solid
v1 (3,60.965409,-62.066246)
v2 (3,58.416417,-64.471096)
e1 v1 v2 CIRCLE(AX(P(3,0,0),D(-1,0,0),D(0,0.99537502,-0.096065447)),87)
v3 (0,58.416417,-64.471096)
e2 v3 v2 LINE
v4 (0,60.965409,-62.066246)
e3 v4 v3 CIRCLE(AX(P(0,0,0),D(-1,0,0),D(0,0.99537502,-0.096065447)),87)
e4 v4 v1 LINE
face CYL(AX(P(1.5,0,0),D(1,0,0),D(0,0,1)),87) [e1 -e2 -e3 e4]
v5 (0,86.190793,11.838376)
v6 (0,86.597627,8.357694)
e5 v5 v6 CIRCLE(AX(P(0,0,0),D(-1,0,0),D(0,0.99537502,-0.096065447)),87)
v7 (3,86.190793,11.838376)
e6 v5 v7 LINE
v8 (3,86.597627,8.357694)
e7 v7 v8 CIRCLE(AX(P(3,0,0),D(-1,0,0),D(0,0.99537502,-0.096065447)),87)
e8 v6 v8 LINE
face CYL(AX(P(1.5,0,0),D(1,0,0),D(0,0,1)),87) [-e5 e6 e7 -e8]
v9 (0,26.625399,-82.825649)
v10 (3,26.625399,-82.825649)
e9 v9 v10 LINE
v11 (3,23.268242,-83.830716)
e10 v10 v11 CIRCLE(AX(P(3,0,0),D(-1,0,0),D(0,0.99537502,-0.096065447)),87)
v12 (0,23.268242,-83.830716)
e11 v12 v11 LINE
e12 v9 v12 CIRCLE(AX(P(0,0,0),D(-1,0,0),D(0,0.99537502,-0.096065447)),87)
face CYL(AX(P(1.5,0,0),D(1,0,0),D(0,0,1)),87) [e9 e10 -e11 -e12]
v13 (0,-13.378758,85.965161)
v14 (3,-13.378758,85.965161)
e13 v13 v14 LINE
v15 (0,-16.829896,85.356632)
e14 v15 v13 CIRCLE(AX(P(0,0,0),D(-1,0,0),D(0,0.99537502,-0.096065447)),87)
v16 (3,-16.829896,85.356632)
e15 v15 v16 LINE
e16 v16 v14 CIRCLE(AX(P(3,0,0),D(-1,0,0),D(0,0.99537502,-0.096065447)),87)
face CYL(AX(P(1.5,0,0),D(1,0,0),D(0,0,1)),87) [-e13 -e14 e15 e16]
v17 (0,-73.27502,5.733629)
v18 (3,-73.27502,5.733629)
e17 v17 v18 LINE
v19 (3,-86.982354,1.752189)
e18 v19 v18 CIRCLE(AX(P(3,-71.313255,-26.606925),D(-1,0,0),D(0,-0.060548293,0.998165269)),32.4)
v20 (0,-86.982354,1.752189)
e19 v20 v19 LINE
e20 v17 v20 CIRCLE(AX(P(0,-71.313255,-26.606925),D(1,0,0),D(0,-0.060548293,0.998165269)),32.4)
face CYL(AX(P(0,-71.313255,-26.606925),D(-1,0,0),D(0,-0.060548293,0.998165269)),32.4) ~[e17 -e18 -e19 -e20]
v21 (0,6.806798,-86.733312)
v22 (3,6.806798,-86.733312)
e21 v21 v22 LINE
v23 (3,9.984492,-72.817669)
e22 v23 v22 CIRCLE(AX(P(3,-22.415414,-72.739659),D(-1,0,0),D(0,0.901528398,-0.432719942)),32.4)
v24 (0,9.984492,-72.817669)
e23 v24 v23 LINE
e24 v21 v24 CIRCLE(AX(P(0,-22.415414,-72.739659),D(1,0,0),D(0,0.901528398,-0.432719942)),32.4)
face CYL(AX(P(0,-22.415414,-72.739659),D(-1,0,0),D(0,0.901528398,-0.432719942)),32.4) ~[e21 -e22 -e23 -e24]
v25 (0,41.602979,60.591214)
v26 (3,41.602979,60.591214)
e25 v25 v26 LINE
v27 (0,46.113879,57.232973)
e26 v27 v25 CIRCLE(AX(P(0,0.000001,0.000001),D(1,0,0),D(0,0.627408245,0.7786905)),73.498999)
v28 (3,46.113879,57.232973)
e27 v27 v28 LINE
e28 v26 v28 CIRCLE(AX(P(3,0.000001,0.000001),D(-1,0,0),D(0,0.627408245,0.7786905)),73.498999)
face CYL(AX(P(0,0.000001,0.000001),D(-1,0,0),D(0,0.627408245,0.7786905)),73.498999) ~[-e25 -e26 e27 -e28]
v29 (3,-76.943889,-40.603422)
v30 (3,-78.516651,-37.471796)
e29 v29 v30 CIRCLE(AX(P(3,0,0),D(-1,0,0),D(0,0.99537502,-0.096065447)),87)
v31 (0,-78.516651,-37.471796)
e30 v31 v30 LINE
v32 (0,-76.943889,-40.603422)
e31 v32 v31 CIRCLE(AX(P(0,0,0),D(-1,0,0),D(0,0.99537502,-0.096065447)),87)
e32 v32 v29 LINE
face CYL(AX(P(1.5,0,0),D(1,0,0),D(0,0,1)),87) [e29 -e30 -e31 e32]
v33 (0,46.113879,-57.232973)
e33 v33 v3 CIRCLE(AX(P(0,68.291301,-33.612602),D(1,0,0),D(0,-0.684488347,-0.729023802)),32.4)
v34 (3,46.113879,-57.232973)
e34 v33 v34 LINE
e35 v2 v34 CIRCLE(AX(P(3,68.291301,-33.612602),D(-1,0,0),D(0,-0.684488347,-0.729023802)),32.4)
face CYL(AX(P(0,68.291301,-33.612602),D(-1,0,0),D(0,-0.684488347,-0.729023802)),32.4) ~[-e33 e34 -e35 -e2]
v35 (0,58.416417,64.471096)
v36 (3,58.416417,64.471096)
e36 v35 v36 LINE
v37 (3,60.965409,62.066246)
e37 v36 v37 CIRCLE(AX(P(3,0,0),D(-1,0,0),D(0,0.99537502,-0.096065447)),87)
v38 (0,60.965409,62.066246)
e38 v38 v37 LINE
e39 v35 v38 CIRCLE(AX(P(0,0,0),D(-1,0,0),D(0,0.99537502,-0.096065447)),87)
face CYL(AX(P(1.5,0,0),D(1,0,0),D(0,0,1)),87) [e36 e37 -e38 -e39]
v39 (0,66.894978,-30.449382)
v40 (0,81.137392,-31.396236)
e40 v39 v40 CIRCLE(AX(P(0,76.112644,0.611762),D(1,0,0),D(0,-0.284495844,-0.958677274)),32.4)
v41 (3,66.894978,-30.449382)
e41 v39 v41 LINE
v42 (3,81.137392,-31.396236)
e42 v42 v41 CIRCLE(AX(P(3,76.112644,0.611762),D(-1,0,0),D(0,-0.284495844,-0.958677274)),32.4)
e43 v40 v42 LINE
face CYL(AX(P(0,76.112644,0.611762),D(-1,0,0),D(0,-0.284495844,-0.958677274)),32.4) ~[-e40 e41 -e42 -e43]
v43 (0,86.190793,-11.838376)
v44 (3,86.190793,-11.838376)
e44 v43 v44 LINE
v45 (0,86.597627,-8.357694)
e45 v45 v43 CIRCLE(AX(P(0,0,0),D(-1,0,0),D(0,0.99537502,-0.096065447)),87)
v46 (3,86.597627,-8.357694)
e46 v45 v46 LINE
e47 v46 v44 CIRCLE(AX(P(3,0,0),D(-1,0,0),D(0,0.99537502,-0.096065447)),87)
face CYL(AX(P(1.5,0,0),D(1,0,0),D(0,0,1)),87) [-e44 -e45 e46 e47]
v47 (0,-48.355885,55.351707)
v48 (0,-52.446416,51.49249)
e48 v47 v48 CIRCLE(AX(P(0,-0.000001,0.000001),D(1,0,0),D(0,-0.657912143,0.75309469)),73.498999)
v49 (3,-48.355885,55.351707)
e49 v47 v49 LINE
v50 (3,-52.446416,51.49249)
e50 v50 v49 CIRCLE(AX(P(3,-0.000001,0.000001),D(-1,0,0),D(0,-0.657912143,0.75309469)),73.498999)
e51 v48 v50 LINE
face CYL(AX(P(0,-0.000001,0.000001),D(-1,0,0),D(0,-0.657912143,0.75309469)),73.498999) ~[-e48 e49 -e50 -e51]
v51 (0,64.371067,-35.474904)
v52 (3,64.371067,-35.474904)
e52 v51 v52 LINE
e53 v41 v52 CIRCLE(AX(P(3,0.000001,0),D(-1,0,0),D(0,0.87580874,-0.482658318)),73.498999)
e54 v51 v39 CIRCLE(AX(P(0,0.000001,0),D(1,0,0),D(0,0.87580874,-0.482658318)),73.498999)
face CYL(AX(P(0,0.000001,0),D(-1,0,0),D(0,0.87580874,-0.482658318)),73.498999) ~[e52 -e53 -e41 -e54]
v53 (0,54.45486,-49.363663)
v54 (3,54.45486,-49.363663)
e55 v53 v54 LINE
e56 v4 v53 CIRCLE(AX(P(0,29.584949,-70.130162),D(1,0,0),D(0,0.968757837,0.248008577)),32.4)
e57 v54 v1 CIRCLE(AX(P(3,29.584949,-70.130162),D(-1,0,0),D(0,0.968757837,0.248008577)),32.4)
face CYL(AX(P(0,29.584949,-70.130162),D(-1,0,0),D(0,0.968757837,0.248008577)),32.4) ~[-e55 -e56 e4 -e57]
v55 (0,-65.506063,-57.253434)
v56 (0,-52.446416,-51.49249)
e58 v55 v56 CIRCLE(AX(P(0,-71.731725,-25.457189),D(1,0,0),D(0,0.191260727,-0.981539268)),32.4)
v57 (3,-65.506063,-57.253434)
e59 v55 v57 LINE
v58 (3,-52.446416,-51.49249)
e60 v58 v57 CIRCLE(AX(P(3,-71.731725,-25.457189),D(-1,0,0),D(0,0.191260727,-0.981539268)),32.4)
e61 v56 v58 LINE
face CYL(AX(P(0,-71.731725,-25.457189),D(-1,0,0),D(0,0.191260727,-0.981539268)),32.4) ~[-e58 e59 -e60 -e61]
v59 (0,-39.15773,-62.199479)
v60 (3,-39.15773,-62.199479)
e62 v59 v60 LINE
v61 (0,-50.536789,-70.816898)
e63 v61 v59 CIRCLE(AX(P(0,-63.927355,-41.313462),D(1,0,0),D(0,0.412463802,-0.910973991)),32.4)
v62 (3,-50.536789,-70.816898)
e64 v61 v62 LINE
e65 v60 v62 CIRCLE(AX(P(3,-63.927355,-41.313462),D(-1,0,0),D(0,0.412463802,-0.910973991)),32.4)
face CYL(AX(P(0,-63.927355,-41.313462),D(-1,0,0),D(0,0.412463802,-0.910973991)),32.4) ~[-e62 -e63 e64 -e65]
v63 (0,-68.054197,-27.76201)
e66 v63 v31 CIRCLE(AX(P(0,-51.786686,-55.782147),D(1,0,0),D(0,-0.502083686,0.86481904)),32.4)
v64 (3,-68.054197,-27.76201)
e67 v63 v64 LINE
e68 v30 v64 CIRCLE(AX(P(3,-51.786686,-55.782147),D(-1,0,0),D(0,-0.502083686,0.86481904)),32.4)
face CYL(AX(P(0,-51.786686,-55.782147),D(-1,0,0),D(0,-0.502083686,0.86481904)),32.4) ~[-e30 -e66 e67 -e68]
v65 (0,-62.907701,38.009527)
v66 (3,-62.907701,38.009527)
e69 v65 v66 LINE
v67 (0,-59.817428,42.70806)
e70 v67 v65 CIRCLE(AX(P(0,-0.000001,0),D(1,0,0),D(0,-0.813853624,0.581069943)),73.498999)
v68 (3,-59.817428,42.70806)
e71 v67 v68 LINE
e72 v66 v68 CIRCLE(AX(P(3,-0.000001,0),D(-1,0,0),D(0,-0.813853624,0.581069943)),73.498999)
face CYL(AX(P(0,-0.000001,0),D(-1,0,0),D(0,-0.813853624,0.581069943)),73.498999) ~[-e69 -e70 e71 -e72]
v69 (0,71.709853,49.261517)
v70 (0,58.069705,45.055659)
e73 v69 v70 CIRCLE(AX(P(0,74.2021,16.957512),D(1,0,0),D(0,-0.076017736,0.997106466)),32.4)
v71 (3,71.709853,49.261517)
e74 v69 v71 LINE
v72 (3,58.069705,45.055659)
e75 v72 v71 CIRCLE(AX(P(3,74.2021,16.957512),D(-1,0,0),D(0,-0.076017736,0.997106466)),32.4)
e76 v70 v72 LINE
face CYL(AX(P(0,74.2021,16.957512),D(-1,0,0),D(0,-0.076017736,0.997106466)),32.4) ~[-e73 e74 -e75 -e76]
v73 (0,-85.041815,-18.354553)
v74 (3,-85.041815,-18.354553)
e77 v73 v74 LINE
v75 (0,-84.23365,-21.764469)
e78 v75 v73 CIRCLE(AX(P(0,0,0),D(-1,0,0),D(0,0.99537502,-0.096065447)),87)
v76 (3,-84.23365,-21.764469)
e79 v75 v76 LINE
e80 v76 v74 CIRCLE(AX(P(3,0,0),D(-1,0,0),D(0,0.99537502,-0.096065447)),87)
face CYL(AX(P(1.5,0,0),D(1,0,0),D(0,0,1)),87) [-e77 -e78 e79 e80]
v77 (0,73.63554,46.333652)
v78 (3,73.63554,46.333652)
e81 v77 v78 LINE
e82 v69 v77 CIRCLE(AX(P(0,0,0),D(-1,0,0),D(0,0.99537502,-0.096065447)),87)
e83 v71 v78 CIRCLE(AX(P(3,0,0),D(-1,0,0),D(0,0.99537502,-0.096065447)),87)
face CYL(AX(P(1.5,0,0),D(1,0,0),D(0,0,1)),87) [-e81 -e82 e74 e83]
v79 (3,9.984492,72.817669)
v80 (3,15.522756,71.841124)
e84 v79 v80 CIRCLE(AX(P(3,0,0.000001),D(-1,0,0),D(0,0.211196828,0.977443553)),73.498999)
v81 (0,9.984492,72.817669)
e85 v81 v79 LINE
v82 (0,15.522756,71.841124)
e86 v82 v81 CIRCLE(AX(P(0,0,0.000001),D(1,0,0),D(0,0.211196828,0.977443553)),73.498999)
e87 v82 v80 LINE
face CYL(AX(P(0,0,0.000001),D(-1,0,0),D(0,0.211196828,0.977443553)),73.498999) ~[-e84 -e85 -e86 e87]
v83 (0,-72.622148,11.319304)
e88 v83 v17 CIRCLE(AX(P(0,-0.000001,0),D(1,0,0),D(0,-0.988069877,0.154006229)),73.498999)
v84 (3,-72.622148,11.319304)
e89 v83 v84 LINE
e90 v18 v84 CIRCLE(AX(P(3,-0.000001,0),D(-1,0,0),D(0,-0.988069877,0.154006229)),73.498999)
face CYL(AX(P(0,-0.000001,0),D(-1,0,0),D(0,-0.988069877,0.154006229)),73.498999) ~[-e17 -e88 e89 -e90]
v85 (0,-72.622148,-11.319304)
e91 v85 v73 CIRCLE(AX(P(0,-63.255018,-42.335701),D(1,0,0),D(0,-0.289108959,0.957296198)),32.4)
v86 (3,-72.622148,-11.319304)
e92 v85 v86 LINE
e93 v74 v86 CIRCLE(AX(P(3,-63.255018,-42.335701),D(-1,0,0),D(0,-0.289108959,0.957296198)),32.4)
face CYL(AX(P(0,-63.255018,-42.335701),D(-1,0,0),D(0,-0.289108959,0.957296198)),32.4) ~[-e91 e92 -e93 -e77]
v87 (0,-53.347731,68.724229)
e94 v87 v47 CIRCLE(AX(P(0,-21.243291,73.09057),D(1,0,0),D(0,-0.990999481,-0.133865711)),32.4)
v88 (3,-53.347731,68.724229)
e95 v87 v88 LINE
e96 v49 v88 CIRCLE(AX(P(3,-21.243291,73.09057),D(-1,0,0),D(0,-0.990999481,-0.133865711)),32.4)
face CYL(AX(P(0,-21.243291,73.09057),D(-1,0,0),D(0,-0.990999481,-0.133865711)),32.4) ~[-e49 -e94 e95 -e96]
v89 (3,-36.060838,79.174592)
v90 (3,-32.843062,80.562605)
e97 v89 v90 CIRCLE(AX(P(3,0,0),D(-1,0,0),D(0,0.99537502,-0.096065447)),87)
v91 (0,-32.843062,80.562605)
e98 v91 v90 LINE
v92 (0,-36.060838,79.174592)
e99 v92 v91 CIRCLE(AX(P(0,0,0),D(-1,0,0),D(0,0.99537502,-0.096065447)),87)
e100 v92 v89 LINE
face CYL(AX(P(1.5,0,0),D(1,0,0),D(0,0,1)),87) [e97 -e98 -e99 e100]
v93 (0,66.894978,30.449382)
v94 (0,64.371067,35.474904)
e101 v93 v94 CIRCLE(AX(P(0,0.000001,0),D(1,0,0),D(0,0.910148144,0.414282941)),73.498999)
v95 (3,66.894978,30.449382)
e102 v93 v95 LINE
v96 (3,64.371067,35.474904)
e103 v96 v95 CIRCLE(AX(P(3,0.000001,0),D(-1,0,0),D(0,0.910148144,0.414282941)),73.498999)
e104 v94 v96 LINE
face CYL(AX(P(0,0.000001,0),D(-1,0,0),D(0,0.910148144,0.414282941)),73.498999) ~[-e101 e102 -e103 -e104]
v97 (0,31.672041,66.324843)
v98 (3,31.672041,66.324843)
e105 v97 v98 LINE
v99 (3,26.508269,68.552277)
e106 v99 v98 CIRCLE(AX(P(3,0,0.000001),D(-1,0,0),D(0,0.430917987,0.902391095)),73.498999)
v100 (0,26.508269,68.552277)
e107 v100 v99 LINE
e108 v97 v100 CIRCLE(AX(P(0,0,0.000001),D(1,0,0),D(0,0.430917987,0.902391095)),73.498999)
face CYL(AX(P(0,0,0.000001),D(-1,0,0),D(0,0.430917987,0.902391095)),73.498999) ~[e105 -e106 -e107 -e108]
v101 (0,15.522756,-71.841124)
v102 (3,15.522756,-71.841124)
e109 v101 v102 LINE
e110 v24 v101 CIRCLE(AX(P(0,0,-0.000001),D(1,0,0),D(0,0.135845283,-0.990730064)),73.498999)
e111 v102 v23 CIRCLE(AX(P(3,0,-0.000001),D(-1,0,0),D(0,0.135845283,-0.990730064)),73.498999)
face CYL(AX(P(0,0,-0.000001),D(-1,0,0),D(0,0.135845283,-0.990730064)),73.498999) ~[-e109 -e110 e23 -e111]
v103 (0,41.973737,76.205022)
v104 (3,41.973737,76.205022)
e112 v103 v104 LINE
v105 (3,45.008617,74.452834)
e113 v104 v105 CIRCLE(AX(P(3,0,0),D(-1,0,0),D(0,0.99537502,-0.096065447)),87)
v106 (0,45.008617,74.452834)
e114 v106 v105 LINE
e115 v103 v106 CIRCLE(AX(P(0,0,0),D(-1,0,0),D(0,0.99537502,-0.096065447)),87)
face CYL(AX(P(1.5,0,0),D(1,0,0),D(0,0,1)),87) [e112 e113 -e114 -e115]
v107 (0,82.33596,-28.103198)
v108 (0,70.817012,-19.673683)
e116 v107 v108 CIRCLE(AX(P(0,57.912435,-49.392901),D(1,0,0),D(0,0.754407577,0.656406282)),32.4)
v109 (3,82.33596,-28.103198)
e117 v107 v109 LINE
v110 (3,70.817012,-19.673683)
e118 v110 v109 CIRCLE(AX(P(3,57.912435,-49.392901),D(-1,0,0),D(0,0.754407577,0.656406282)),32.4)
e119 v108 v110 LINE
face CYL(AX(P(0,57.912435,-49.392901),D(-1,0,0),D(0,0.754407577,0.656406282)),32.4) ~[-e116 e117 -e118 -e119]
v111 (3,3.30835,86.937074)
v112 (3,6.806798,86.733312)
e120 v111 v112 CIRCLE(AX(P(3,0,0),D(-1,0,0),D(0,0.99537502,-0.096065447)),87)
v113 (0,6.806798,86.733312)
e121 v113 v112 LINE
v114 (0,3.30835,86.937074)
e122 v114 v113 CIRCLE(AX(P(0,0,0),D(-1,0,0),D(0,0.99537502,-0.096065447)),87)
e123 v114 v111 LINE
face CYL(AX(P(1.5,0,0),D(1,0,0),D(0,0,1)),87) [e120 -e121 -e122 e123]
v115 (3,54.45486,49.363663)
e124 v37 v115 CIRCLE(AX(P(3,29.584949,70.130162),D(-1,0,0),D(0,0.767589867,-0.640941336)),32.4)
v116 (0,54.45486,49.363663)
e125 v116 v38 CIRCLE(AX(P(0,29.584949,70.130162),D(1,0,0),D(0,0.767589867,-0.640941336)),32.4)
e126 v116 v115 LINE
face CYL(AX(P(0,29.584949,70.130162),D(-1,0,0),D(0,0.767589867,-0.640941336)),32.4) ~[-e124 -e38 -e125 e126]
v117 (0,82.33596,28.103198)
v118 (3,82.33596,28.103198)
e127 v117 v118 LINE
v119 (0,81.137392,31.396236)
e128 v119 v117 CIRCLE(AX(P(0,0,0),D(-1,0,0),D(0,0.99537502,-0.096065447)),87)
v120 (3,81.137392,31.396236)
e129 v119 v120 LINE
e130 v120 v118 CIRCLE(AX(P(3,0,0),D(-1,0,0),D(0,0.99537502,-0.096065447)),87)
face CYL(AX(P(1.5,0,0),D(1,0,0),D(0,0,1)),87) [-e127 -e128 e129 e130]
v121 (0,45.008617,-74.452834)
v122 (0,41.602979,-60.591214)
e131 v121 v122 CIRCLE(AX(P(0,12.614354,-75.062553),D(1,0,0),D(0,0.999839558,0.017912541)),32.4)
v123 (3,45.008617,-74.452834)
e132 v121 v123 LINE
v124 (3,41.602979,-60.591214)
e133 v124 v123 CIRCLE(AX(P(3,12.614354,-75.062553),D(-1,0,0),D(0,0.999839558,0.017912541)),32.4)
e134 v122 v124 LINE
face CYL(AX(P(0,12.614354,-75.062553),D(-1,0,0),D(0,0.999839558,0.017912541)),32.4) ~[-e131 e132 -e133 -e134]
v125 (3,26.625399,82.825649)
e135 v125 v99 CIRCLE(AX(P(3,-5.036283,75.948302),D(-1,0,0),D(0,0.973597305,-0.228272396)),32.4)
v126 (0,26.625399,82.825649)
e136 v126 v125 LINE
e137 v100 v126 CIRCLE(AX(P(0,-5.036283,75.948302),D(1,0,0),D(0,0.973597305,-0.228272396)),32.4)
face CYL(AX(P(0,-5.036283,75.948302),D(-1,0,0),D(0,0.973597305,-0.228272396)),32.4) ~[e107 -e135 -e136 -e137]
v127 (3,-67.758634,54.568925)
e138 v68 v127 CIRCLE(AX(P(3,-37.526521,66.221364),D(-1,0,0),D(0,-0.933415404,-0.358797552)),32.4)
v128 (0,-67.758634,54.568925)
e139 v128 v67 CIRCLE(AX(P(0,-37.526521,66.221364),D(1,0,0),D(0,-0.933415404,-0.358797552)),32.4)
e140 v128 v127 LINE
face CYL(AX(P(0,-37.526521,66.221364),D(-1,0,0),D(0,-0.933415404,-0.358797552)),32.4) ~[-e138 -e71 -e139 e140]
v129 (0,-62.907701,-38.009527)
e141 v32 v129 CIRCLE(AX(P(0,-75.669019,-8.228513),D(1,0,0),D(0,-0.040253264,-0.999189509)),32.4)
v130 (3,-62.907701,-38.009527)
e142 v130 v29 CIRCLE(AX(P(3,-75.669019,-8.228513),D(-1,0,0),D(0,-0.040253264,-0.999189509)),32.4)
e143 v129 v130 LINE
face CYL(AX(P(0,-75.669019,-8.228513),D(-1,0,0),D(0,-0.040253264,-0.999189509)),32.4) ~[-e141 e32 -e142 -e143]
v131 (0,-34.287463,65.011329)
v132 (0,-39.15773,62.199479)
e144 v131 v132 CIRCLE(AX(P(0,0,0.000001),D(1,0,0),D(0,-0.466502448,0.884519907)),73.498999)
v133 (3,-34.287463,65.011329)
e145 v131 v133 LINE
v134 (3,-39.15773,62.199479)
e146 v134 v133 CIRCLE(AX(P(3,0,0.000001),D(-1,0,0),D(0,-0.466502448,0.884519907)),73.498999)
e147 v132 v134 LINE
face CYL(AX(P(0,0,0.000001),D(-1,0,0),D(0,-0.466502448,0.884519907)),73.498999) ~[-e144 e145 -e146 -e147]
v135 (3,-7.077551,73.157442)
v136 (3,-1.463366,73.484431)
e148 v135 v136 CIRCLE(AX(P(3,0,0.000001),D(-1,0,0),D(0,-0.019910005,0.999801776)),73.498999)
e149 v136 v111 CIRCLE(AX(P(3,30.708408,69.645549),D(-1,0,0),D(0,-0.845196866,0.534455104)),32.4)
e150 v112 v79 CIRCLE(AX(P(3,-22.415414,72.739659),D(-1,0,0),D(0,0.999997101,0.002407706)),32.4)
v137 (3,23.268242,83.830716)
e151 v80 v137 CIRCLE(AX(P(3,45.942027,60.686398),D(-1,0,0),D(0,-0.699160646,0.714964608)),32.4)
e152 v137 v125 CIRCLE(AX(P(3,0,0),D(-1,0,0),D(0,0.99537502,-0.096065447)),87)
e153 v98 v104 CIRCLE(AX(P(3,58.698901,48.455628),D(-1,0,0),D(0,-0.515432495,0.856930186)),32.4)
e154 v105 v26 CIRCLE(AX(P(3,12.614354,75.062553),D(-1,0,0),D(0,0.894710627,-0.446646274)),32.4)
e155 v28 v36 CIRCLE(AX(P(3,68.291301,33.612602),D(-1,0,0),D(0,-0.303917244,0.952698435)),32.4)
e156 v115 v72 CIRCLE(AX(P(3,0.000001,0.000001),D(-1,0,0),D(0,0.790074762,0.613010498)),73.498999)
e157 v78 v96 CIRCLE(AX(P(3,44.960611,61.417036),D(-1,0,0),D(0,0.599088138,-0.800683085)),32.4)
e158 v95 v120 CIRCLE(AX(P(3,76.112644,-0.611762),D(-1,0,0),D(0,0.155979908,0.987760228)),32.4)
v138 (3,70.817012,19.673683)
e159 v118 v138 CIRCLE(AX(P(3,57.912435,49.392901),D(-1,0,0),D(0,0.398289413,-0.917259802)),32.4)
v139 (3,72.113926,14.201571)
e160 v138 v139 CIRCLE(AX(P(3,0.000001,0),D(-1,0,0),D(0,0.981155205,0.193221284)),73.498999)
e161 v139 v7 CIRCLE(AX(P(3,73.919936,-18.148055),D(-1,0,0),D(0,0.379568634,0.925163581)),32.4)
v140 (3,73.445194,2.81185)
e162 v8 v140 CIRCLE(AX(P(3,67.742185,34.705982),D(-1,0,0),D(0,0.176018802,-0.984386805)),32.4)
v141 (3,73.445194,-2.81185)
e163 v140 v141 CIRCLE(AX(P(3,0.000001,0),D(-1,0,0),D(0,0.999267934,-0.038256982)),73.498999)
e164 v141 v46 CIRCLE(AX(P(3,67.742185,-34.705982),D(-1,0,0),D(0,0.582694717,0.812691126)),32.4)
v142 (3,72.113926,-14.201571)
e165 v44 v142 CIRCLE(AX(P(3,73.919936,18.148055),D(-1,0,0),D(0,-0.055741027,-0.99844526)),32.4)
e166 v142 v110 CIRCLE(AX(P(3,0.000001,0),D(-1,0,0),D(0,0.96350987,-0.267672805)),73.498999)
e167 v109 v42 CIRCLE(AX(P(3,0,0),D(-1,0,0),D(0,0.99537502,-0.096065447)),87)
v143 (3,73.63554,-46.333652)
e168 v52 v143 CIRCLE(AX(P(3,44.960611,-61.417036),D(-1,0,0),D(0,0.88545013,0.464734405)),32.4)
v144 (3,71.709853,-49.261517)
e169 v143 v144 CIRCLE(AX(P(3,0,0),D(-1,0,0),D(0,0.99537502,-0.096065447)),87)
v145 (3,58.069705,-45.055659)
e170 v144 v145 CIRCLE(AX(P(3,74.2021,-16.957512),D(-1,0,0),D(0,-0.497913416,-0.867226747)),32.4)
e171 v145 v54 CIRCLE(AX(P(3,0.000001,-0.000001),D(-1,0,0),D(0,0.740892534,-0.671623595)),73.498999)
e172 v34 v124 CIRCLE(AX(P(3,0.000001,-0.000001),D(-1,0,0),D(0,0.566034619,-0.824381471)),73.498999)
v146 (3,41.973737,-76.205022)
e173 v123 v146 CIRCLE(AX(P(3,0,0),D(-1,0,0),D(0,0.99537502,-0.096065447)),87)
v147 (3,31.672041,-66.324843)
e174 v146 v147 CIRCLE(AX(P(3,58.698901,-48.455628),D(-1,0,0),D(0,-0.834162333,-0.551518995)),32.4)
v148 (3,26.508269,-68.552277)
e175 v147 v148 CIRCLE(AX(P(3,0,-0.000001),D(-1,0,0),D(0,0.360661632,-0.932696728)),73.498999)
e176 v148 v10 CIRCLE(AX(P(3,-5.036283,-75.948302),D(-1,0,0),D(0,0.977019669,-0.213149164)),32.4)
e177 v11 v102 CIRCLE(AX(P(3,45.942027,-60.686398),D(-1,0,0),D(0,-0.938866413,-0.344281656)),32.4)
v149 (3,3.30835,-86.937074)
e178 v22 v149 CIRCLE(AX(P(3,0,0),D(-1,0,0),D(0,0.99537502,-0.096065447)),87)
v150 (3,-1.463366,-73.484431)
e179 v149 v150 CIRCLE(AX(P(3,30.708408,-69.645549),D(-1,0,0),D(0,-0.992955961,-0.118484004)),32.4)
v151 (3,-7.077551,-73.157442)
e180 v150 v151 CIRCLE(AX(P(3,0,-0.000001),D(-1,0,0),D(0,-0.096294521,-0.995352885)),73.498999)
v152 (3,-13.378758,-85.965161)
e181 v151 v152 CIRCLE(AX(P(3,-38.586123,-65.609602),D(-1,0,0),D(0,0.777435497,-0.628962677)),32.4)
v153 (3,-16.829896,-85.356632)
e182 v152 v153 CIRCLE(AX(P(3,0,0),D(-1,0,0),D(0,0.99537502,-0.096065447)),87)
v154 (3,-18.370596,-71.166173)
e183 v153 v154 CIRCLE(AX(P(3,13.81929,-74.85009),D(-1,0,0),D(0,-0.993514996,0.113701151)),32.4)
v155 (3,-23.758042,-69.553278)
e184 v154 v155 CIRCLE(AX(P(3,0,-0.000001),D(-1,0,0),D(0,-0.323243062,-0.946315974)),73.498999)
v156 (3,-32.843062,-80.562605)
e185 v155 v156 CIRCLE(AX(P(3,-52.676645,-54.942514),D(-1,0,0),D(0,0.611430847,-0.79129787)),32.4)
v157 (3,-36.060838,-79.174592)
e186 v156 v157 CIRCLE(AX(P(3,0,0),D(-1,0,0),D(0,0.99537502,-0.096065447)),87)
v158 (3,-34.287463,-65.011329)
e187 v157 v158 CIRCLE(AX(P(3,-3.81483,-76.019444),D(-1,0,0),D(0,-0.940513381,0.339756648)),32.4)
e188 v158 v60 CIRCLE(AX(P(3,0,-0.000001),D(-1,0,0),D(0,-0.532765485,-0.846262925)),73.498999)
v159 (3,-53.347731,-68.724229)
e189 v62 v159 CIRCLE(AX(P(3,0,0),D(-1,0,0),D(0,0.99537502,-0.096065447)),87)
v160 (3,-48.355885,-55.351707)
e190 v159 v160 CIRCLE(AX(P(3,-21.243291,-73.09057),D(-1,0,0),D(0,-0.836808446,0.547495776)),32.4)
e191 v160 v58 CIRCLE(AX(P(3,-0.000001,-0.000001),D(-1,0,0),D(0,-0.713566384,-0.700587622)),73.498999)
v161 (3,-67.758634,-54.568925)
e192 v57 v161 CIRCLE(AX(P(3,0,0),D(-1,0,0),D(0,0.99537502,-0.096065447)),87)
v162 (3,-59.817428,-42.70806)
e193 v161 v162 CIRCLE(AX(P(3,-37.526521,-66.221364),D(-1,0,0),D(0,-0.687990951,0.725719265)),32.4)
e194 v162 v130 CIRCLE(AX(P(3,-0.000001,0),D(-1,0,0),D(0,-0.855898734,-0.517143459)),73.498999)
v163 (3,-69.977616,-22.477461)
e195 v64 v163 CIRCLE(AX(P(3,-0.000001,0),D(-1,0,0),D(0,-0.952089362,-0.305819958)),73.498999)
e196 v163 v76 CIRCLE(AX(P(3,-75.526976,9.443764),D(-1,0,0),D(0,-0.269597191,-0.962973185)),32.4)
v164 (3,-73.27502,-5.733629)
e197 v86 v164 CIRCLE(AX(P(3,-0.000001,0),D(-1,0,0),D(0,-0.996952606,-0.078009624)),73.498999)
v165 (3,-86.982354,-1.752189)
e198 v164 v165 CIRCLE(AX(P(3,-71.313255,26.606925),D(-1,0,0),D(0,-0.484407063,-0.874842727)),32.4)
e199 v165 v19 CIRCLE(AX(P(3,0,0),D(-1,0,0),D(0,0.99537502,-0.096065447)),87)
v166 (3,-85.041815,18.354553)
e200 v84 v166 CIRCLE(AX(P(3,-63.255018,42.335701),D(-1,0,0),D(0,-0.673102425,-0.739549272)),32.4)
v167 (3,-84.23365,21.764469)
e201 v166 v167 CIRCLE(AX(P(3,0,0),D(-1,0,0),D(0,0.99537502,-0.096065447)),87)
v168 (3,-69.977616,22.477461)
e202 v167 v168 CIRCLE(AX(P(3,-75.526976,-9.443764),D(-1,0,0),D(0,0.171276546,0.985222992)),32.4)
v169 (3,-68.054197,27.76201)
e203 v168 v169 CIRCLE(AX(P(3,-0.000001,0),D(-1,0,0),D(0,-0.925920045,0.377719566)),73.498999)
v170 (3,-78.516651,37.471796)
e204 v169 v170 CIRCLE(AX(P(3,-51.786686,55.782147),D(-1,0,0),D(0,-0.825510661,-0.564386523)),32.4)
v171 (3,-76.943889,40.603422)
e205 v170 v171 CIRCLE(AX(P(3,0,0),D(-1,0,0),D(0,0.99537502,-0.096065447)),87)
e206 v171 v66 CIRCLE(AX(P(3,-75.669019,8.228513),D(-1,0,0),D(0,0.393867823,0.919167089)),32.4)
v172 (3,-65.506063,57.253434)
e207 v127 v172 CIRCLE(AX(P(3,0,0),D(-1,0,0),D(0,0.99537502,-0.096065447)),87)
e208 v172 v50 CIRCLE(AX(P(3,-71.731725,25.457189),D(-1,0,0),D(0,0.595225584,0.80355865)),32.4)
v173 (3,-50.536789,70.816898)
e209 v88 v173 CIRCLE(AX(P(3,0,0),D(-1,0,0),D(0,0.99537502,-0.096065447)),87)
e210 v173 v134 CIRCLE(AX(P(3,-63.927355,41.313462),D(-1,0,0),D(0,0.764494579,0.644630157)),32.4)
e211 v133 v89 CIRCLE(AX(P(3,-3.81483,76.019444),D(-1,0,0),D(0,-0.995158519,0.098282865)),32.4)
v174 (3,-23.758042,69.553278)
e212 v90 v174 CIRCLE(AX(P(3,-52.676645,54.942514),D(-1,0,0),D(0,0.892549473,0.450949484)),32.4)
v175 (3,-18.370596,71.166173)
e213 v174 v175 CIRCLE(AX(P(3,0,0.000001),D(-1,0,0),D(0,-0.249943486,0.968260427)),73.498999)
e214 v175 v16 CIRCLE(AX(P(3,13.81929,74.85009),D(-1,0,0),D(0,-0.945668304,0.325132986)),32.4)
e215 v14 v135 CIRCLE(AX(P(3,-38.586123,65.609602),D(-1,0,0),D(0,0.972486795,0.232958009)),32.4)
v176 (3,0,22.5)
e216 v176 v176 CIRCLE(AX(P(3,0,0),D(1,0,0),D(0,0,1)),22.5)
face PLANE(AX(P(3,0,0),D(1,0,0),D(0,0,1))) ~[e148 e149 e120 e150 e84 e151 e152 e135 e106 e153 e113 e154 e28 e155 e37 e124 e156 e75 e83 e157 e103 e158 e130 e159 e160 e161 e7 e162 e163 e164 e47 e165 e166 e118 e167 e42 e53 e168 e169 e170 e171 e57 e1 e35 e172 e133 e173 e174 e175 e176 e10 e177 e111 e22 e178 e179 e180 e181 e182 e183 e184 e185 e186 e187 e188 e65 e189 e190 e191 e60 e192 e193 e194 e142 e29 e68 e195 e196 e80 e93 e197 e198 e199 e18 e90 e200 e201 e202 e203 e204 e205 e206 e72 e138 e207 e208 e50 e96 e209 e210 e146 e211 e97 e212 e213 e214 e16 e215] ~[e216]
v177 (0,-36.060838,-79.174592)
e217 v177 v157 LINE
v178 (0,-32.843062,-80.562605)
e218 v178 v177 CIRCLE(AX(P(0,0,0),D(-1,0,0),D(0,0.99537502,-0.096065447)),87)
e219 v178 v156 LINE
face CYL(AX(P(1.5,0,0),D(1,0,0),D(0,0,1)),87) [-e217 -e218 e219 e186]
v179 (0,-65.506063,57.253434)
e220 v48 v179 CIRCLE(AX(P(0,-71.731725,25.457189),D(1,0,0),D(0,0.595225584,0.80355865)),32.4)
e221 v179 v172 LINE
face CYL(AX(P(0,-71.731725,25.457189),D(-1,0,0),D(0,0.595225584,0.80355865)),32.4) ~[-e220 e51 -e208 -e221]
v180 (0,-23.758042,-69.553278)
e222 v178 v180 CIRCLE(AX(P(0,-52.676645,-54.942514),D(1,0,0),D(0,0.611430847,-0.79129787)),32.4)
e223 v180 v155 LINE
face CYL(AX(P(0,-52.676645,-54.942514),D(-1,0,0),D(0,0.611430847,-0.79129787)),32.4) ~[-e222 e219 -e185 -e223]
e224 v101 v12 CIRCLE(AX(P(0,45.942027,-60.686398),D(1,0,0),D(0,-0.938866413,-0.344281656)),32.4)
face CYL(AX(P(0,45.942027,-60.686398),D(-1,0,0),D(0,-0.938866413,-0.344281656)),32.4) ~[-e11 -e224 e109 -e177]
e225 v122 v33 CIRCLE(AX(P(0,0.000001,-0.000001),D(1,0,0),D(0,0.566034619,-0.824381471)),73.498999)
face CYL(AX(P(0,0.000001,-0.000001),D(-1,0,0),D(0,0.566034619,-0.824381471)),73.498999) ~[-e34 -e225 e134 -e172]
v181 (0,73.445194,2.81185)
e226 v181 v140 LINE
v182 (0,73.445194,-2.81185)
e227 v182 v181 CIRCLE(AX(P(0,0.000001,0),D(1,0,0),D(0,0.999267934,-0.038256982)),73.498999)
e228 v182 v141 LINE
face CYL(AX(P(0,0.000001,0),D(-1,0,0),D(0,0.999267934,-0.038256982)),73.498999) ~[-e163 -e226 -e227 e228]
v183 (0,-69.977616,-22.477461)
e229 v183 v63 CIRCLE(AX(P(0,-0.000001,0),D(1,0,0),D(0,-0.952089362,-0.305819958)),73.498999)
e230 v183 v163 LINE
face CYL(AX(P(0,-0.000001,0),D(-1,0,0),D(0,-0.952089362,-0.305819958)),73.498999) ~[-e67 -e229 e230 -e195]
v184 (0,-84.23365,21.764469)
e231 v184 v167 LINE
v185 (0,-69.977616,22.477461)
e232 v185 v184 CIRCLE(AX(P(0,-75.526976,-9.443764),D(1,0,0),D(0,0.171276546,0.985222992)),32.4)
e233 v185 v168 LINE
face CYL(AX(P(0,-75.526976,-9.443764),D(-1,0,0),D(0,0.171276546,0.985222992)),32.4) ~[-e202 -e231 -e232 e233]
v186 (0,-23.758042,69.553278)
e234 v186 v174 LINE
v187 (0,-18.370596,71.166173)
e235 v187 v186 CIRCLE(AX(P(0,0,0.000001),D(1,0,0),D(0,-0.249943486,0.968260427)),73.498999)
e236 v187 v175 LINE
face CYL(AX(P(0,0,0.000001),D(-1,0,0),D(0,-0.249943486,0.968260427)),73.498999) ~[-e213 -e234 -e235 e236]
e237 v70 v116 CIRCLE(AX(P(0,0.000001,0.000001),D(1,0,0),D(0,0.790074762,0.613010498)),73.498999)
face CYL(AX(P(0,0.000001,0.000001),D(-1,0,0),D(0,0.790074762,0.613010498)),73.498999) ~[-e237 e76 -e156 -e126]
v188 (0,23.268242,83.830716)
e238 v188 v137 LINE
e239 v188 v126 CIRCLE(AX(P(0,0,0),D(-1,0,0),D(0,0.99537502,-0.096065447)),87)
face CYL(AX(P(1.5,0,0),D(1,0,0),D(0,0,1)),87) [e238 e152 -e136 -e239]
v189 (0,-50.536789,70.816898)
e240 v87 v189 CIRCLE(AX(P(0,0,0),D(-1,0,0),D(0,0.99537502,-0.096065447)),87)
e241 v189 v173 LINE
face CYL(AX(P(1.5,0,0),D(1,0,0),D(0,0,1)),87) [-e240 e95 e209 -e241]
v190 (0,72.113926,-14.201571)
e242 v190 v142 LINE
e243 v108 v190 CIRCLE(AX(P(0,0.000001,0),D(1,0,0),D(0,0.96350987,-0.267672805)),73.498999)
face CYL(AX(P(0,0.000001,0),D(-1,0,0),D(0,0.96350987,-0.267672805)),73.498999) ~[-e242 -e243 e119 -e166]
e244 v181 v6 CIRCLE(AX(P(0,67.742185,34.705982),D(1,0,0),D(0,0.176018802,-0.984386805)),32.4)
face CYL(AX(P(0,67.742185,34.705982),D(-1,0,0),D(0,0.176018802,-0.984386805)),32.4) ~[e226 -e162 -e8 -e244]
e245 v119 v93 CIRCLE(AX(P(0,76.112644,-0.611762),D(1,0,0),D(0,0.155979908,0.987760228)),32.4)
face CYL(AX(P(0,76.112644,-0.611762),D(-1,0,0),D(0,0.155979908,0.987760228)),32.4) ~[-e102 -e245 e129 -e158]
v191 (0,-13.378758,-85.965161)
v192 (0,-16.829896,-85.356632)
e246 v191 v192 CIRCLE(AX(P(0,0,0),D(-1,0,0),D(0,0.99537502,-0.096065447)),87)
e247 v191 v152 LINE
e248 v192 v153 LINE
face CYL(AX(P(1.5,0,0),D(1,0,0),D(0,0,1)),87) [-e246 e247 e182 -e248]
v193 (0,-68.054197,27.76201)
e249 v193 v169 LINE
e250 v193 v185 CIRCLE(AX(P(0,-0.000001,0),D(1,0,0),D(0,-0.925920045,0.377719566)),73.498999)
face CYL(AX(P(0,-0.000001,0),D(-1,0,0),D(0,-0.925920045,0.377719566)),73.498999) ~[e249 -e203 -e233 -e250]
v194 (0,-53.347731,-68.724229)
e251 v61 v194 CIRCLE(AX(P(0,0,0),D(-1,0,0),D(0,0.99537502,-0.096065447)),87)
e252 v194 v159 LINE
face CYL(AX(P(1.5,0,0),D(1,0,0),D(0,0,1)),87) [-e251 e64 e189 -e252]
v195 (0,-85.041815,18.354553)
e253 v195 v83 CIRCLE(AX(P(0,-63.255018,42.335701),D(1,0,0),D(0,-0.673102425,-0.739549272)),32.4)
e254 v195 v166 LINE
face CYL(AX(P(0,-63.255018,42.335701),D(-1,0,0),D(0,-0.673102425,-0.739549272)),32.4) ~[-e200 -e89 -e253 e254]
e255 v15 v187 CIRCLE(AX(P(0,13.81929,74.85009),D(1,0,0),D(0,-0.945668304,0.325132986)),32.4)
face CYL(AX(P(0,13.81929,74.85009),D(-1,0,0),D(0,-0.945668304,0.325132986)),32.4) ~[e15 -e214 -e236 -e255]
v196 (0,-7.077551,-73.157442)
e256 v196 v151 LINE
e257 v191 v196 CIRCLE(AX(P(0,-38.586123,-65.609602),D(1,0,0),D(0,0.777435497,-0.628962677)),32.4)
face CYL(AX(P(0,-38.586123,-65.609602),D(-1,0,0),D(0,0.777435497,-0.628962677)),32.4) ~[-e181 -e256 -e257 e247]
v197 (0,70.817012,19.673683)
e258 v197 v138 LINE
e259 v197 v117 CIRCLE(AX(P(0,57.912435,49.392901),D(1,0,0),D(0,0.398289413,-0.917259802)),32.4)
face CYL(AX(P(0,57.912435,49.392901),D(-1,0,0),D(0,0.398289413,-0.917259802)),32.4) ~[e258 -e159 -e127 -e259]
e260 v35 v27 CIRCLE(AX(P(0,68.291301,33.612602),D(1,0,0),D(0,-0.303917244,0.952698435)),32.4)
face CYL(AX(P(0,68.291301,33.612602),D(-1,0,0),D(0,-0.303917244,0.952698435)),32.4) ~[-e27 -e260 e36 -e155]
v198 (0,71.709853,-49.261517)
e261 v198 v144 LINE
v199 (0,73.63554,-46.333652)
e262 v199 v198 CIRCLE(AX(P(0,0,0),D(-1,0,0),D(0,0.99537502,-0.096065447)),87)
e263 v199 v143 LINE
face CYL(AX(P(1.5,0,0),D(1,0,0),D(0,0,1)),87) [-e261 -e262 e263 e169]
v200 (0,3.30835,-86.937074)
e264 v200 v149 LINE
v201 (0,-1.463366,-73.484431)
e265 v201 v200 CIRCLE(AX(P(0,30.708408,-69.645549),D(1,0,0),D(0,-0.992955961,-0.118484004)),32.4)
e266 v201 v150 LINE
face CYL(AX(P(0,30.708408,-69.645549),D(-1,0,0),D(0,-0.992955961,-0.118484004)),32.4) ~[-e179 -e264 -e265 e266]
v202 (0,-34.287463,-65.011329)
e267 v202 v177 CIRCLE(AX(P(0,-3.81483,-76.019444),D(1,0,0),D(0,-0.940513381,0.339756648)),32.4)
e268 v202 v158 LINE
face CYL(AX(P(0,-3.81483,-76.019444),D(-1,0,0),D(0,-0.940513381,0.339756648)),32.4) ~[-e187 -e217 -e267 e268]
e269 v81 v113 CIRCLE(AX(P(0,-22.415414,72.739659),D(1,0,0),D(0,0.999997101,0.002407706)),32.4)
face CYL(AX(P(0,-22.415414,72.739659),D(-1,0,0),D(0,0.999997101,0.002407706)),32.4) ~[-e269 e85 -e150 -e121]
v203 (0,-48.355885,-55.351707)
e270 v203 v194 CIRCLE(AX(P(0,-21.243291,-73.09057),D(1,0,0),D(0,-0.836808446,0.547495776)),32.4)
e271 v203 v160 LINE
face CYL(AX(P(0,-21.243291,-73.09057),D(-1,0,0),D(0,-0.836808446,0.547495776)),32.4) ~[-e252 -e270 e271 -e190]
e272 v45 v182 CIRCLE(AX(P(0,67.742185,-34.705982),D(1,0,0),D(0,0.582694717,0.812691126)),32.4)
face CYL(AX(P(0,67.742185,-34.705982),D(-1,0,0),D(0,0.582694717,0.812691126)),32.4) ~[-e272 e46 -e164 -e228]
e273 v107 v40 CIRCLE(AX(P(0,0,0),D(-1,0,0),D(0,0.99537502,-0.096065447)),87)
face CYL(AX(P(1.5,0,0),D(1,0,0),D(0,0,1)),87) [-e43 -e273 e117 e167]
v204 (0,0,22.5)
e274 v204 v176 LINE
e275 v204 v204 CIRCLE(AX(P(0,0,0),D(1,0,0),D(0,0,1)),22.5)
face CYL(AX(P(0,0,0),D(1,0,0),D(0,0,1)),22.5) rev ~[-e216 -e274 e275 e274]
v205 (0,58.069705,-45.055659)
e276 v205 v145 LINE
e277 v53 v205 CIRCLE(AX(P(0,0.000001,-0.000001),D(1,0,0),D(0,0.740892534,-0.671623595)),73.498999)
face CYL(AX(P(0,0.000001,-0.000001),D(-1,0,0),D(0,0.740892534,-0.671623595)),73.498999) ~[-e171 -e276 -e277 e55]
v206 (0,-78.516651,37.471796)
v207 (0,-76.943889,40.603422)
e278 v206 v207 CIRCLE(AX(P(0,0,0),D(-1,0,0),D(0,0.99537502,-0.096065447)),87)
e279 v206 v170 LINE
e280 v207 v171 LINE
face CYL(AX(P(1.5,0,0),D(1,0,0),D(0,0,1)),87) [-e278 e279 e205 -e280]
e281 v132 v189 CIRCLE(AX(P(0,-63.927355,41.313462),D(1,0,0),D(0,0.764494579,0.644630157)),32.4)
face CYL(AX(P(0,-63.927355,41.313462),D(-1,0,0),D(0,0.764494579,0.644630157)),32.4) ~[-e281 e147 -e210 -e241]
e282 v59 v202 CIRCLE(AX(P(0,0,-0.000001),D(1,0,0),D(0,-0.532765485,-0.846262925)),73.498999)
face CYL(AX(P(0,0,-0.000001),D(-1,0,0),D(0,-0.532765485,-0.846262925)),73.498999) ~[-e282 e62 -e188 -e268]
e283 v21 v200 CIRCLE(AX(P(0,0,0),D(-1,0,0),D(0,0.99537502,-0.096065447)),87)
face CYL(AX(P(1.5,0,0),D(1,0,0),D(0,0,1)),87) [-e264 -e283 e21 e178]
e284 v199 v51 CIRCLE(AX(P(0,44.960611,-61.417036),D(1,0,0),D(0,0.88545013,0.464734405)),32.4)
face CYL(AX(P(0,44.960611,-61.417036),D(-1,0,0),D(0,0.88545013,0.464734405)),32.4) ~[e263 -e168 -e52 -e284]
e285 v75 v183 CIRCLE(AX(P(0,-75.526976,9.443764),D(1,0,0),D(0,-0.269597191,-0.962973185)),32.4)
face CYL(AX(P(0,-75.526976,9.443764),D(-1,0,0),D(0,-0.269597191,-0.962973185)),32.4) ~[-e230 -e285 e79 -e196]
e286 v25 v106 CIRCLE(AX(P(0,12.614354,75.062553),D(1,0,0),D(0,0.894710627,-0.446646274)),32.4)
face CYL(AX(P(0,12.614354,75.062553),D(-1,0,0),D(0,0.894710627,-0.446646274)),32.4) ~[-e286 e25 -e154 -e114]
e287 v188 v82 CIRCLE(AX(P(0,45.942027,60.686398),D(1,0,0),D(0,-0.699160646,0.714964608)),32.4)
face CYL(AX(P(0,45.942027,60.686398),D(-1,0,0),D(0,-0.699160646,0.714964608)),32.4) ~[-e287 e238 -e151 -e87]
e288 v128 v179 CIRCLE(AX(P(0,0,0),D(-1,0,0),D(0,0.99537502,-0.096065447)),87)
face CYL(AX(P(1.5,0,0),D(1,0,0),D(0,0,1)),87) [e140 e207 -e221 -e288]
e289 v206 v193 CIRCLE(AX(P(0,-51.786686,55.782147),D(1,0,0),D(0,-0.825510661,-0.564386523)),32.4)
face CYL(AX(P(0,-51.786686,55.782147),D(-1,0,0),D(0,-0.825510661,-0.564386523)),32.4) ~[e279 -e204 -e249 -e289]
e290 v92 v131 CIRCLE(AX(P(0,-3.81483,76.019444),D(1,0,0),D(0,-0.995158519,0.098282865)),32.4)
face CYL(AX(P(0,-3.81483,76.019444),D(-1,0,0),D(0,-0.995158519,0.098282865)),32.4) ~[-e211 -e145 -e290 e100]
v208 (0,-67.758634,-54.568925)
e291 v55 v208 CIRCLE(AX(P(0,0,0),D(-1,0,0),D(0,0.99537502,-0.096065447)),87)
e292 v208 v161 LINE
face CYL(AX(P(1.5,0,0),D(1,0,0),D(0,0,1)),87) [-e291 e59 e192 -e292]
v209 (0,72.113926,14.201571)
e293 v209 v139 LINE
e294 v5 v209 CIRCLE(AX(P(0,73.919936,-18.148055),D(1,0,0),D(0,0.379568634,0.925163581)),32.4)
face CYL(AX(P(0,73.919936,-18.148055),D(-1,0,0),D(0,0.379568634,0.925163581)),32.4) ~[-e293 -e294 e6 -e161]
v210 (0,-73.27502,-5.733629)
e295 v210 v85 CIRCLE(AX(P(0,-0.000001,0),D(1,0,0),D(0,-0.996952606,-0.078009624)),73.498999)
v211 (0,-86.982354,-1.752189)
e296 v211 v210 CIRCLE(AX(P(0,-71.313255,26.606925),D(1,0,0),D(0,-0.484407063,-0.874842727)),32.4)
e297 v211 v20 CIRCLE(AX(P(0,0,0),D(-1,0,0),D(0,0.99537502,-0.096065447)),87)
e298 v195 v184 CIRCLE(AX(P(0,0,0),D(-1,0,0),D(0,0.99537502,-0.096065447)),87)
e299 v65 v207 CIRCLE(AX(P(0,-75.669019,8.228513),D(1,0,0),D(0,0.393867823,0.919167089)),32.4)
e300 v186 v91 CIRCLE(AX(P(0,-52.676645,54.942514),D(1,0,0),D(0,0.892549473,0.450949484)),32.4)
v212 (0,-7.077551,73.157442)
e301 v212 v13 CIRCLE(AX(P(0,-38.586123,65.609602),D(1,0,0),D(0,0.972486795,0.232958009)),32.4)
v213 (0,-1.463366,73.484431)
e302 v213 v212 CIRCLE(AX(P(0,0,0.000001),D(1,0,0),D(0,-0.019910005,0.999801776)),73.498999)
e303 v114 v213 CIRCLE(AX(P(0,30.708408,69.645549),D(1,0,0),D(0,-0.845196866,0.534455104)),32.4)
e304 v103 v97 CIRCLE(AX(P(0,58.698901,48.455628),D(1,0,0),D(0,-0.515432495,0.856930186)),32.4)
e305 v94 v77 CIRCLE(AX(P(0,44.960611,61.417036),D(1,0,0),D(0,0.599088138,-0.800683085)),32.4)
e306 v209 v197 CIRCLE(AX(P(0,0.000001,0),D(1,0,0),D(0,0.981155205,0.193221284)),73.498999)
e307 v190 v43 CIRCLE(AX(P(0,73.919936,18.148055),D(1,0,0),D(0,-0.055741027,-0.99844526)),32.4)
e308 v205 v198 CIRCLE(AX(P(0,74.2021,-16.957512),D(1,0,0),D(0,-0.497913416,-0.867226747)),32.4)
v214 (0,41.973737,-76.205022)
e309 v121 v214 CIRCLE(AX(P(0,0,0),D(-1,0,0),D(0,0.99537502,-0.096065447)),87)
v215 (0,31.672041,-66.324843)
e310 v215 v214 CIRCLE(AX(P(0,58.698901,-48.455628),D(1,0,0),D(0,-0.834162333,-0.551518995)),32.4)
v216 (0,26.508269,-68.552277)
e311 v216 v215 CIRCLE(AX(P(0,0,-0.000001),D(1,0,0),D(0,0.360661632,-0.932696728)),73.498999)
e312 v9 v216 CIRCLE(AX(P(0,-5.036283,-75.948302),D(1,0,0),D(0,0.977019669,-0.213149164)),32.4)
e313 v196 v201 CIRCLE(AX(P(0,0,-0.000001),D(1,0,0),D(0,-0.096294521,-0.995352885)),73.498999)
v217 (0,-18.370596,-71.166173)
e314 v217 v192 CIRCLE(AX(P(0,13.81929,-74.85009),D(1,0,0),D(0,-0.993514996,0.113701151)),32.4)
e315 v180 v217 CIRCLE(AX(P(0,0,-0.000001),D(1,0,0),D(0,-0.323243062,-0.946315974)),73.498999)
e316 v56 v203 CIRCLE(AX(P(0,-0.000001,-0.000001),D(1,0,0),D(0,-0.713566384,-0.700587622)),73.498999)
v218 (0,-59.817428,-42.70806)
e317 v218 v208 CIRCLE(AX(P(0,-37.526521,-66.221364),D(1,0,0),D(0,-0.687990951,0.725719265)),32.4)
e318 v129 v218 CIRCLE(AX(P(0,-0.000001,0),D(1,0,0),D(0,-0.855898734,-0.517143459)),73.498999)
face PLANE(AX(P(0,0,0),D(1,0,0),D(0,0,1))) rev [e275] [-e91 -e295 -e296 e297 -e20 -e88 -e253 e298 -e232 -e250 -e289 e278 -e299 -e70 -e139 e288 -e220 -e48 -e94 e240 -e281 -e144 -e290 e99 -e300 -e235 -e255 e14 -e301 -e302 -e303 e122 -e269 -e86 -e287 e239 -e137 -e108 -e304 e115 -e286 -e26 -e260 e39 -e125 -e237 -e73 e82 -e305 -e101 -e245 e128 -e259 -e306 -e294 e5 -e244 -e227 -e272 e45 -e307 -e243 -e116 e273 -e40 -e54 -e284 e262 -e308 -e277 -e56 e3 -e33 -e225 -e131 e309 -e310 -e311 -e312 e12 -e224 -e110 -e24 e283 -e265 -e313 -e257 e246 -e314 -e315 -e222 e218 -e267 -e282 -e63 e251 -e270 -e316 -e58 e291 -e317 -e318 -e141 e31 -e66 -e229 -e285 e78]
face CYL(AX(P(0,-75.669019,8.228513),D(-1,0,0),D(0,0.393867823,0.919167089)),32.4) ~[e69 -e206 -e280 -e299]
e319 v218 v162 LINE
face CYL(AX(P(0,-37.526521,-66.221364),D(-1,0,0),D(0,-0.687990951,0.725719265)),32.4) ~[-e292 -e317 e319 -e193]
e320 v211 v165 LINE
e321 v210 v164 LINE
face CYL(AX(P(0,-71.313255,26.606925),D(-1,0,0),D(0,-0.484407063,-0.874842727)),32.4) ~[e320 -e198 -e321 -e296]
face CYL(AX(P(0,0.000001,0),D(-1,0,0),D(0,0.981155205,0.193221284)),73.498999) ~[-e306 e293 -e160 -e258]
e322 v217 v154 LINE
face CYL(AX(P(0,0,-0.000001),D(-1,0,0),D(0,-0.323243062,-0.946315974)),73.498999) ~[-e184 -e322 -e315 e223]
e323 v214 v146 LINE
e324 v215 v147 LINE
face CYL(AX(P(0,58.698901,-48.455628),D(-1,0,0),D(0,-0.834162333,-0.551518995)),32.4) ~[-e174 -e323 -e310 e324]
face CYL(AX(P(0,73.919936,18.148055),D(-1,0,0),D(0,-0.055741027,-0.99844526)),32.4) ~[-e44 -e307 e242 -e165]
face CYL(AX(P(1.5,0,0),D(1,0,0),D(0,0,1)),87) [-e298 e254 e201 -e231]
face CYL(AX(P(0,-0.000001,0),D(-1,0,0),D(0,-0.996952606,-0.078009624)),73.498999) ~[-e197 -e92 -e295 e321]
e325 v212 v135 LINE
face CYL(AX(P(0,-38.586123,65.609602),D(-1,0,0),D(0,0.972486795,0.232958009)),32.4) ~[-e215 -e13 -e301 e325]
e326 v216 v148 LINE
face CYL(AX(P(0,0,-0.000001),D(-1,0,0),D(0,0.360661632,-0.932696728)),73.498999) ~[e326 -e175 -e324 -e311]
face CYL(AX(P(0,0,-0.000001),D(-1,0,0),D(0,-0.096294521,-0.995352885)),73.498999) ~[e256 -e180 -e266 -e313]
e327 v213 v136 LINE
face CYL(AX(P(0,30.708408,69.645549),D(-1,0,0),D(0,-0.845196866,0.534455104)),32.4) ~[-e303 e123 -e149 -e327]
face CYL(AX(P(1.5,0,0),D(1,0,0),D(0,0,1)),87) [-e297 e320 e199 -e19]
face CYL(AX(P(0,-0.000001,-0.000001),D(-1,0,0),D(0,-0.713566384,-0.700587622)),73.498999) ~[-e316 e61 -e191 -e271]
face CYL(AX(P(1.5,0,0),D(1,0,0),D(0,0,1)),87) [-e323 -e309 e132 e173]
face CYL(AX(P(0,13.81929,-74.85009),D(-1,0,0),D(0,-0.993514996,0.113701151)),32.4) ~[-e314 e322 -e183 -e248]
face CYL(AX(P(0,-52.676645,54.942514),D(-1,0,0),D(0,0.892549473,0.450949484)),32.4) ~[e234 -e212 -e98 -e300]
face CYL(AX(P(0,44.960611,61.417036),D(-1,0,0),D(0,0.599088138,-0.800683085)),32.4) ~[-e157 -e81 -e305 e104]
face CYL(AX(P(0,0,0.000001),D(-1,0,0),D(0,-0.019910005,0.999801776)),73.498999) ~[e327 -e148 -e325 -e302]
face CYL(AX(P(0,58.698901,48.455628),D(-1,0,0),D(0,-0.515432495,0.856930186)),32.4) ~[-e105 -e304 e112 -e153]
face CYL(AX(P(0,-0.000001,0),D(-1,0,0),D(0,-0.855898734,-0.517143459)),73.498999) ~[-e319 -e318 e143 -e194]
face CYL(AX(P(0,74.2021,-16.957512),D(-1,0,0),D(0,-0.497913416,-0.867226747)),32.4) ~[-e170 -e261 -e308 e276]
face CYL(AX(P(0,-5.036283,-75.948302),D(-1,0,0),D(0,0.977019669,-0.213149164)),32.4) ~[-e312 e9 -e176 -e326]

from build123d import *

# Parameters (mm, degrees)
BASPROSKE_W     = 3
BASPROSKE_H     = 87
TOOTHCUT_DEPTH  = 124.07314898
TEETHCUTS_COUNT = 27
TEETHCUTS_ANGLE = 346.666666667
BORSKE_R        = 22.5
BORE_DEPTH      = 50.0000508


with BuildPart() as part:
    # BasProSke → Base-Revolve (revolve)
    with BuildSketch(Plane(origin=(0, 0, 0), x_dir=(1, 0, 0), z_dir=(0, 1, 0)), mode=Mode.PRIVATE) as base_revolve_sk:
        with Locations((1.5, 43.5)):
            Rectangle(BASPROSKE_W, BASPROSKE_H)
    revolve(base_revolve_sk.sketch.rotate(Axis((-10, 0, 0), (1, 0, 0)), 180), axis=Axis((-10, 0, 0), (1, 0, 0)))

    # TooCutSke → ToothCut (cut, through all)
    with BuildSketch(Plane(origin=(0, 0, 0), x_dir=(0, 0, -1), z_dir=(1, 0, 0))):
        with BuildLine():
            ThreePointArc((2.811849911, 73.445193859), (0, 73.499), (-2.811849911, 73.445193859))
            ThreePointArc((-2.811849911, 73.445193859), (-4.857182833, 80.344135525), (-8.374789903, 86.621493518))
            ThreePointArc((-8.374789903, 86.621493518), (0, 87.0254), (8.374789903, 86.621493518))
            ThreePointArc((8.374789903, 86.621493518), (4.857182833, 80.344135525), (2.811849911, 73.445193859))
        make_face()
    toothcut = extrude(amount=TOOTHCUT_DEPTH, mode=Mode.SUBTRACT)

    # TeethCuts: ToothCut ×27 about axis
    teethcuts_axis = Axis((-10, 0, 0), (1, 0, 0))
    for i in range(1, TEETHCUTS_COUNT):
        add(toothcut.rotate(teethcuts_axis, i * TEETHCUTS_ANGLE / (TEETHCUTS_COUNT - 1)), mode=Mode.SUBTRACT)

    # BorSke → Bore (cut, symmetric)
    with BuildSketch(Plane(origin=(0, 0, 0), x_dir=(0, 0, -1), z_dir=(1, 0, 0))):
        with Locations(Location((0, 0, 0), (0, 0, 180))):
            Circle(BORSKE_R)
    extrude(amount=BORE_DEPTH, both=True, mode=Mode.SUBTRACT)


solid = part.part
